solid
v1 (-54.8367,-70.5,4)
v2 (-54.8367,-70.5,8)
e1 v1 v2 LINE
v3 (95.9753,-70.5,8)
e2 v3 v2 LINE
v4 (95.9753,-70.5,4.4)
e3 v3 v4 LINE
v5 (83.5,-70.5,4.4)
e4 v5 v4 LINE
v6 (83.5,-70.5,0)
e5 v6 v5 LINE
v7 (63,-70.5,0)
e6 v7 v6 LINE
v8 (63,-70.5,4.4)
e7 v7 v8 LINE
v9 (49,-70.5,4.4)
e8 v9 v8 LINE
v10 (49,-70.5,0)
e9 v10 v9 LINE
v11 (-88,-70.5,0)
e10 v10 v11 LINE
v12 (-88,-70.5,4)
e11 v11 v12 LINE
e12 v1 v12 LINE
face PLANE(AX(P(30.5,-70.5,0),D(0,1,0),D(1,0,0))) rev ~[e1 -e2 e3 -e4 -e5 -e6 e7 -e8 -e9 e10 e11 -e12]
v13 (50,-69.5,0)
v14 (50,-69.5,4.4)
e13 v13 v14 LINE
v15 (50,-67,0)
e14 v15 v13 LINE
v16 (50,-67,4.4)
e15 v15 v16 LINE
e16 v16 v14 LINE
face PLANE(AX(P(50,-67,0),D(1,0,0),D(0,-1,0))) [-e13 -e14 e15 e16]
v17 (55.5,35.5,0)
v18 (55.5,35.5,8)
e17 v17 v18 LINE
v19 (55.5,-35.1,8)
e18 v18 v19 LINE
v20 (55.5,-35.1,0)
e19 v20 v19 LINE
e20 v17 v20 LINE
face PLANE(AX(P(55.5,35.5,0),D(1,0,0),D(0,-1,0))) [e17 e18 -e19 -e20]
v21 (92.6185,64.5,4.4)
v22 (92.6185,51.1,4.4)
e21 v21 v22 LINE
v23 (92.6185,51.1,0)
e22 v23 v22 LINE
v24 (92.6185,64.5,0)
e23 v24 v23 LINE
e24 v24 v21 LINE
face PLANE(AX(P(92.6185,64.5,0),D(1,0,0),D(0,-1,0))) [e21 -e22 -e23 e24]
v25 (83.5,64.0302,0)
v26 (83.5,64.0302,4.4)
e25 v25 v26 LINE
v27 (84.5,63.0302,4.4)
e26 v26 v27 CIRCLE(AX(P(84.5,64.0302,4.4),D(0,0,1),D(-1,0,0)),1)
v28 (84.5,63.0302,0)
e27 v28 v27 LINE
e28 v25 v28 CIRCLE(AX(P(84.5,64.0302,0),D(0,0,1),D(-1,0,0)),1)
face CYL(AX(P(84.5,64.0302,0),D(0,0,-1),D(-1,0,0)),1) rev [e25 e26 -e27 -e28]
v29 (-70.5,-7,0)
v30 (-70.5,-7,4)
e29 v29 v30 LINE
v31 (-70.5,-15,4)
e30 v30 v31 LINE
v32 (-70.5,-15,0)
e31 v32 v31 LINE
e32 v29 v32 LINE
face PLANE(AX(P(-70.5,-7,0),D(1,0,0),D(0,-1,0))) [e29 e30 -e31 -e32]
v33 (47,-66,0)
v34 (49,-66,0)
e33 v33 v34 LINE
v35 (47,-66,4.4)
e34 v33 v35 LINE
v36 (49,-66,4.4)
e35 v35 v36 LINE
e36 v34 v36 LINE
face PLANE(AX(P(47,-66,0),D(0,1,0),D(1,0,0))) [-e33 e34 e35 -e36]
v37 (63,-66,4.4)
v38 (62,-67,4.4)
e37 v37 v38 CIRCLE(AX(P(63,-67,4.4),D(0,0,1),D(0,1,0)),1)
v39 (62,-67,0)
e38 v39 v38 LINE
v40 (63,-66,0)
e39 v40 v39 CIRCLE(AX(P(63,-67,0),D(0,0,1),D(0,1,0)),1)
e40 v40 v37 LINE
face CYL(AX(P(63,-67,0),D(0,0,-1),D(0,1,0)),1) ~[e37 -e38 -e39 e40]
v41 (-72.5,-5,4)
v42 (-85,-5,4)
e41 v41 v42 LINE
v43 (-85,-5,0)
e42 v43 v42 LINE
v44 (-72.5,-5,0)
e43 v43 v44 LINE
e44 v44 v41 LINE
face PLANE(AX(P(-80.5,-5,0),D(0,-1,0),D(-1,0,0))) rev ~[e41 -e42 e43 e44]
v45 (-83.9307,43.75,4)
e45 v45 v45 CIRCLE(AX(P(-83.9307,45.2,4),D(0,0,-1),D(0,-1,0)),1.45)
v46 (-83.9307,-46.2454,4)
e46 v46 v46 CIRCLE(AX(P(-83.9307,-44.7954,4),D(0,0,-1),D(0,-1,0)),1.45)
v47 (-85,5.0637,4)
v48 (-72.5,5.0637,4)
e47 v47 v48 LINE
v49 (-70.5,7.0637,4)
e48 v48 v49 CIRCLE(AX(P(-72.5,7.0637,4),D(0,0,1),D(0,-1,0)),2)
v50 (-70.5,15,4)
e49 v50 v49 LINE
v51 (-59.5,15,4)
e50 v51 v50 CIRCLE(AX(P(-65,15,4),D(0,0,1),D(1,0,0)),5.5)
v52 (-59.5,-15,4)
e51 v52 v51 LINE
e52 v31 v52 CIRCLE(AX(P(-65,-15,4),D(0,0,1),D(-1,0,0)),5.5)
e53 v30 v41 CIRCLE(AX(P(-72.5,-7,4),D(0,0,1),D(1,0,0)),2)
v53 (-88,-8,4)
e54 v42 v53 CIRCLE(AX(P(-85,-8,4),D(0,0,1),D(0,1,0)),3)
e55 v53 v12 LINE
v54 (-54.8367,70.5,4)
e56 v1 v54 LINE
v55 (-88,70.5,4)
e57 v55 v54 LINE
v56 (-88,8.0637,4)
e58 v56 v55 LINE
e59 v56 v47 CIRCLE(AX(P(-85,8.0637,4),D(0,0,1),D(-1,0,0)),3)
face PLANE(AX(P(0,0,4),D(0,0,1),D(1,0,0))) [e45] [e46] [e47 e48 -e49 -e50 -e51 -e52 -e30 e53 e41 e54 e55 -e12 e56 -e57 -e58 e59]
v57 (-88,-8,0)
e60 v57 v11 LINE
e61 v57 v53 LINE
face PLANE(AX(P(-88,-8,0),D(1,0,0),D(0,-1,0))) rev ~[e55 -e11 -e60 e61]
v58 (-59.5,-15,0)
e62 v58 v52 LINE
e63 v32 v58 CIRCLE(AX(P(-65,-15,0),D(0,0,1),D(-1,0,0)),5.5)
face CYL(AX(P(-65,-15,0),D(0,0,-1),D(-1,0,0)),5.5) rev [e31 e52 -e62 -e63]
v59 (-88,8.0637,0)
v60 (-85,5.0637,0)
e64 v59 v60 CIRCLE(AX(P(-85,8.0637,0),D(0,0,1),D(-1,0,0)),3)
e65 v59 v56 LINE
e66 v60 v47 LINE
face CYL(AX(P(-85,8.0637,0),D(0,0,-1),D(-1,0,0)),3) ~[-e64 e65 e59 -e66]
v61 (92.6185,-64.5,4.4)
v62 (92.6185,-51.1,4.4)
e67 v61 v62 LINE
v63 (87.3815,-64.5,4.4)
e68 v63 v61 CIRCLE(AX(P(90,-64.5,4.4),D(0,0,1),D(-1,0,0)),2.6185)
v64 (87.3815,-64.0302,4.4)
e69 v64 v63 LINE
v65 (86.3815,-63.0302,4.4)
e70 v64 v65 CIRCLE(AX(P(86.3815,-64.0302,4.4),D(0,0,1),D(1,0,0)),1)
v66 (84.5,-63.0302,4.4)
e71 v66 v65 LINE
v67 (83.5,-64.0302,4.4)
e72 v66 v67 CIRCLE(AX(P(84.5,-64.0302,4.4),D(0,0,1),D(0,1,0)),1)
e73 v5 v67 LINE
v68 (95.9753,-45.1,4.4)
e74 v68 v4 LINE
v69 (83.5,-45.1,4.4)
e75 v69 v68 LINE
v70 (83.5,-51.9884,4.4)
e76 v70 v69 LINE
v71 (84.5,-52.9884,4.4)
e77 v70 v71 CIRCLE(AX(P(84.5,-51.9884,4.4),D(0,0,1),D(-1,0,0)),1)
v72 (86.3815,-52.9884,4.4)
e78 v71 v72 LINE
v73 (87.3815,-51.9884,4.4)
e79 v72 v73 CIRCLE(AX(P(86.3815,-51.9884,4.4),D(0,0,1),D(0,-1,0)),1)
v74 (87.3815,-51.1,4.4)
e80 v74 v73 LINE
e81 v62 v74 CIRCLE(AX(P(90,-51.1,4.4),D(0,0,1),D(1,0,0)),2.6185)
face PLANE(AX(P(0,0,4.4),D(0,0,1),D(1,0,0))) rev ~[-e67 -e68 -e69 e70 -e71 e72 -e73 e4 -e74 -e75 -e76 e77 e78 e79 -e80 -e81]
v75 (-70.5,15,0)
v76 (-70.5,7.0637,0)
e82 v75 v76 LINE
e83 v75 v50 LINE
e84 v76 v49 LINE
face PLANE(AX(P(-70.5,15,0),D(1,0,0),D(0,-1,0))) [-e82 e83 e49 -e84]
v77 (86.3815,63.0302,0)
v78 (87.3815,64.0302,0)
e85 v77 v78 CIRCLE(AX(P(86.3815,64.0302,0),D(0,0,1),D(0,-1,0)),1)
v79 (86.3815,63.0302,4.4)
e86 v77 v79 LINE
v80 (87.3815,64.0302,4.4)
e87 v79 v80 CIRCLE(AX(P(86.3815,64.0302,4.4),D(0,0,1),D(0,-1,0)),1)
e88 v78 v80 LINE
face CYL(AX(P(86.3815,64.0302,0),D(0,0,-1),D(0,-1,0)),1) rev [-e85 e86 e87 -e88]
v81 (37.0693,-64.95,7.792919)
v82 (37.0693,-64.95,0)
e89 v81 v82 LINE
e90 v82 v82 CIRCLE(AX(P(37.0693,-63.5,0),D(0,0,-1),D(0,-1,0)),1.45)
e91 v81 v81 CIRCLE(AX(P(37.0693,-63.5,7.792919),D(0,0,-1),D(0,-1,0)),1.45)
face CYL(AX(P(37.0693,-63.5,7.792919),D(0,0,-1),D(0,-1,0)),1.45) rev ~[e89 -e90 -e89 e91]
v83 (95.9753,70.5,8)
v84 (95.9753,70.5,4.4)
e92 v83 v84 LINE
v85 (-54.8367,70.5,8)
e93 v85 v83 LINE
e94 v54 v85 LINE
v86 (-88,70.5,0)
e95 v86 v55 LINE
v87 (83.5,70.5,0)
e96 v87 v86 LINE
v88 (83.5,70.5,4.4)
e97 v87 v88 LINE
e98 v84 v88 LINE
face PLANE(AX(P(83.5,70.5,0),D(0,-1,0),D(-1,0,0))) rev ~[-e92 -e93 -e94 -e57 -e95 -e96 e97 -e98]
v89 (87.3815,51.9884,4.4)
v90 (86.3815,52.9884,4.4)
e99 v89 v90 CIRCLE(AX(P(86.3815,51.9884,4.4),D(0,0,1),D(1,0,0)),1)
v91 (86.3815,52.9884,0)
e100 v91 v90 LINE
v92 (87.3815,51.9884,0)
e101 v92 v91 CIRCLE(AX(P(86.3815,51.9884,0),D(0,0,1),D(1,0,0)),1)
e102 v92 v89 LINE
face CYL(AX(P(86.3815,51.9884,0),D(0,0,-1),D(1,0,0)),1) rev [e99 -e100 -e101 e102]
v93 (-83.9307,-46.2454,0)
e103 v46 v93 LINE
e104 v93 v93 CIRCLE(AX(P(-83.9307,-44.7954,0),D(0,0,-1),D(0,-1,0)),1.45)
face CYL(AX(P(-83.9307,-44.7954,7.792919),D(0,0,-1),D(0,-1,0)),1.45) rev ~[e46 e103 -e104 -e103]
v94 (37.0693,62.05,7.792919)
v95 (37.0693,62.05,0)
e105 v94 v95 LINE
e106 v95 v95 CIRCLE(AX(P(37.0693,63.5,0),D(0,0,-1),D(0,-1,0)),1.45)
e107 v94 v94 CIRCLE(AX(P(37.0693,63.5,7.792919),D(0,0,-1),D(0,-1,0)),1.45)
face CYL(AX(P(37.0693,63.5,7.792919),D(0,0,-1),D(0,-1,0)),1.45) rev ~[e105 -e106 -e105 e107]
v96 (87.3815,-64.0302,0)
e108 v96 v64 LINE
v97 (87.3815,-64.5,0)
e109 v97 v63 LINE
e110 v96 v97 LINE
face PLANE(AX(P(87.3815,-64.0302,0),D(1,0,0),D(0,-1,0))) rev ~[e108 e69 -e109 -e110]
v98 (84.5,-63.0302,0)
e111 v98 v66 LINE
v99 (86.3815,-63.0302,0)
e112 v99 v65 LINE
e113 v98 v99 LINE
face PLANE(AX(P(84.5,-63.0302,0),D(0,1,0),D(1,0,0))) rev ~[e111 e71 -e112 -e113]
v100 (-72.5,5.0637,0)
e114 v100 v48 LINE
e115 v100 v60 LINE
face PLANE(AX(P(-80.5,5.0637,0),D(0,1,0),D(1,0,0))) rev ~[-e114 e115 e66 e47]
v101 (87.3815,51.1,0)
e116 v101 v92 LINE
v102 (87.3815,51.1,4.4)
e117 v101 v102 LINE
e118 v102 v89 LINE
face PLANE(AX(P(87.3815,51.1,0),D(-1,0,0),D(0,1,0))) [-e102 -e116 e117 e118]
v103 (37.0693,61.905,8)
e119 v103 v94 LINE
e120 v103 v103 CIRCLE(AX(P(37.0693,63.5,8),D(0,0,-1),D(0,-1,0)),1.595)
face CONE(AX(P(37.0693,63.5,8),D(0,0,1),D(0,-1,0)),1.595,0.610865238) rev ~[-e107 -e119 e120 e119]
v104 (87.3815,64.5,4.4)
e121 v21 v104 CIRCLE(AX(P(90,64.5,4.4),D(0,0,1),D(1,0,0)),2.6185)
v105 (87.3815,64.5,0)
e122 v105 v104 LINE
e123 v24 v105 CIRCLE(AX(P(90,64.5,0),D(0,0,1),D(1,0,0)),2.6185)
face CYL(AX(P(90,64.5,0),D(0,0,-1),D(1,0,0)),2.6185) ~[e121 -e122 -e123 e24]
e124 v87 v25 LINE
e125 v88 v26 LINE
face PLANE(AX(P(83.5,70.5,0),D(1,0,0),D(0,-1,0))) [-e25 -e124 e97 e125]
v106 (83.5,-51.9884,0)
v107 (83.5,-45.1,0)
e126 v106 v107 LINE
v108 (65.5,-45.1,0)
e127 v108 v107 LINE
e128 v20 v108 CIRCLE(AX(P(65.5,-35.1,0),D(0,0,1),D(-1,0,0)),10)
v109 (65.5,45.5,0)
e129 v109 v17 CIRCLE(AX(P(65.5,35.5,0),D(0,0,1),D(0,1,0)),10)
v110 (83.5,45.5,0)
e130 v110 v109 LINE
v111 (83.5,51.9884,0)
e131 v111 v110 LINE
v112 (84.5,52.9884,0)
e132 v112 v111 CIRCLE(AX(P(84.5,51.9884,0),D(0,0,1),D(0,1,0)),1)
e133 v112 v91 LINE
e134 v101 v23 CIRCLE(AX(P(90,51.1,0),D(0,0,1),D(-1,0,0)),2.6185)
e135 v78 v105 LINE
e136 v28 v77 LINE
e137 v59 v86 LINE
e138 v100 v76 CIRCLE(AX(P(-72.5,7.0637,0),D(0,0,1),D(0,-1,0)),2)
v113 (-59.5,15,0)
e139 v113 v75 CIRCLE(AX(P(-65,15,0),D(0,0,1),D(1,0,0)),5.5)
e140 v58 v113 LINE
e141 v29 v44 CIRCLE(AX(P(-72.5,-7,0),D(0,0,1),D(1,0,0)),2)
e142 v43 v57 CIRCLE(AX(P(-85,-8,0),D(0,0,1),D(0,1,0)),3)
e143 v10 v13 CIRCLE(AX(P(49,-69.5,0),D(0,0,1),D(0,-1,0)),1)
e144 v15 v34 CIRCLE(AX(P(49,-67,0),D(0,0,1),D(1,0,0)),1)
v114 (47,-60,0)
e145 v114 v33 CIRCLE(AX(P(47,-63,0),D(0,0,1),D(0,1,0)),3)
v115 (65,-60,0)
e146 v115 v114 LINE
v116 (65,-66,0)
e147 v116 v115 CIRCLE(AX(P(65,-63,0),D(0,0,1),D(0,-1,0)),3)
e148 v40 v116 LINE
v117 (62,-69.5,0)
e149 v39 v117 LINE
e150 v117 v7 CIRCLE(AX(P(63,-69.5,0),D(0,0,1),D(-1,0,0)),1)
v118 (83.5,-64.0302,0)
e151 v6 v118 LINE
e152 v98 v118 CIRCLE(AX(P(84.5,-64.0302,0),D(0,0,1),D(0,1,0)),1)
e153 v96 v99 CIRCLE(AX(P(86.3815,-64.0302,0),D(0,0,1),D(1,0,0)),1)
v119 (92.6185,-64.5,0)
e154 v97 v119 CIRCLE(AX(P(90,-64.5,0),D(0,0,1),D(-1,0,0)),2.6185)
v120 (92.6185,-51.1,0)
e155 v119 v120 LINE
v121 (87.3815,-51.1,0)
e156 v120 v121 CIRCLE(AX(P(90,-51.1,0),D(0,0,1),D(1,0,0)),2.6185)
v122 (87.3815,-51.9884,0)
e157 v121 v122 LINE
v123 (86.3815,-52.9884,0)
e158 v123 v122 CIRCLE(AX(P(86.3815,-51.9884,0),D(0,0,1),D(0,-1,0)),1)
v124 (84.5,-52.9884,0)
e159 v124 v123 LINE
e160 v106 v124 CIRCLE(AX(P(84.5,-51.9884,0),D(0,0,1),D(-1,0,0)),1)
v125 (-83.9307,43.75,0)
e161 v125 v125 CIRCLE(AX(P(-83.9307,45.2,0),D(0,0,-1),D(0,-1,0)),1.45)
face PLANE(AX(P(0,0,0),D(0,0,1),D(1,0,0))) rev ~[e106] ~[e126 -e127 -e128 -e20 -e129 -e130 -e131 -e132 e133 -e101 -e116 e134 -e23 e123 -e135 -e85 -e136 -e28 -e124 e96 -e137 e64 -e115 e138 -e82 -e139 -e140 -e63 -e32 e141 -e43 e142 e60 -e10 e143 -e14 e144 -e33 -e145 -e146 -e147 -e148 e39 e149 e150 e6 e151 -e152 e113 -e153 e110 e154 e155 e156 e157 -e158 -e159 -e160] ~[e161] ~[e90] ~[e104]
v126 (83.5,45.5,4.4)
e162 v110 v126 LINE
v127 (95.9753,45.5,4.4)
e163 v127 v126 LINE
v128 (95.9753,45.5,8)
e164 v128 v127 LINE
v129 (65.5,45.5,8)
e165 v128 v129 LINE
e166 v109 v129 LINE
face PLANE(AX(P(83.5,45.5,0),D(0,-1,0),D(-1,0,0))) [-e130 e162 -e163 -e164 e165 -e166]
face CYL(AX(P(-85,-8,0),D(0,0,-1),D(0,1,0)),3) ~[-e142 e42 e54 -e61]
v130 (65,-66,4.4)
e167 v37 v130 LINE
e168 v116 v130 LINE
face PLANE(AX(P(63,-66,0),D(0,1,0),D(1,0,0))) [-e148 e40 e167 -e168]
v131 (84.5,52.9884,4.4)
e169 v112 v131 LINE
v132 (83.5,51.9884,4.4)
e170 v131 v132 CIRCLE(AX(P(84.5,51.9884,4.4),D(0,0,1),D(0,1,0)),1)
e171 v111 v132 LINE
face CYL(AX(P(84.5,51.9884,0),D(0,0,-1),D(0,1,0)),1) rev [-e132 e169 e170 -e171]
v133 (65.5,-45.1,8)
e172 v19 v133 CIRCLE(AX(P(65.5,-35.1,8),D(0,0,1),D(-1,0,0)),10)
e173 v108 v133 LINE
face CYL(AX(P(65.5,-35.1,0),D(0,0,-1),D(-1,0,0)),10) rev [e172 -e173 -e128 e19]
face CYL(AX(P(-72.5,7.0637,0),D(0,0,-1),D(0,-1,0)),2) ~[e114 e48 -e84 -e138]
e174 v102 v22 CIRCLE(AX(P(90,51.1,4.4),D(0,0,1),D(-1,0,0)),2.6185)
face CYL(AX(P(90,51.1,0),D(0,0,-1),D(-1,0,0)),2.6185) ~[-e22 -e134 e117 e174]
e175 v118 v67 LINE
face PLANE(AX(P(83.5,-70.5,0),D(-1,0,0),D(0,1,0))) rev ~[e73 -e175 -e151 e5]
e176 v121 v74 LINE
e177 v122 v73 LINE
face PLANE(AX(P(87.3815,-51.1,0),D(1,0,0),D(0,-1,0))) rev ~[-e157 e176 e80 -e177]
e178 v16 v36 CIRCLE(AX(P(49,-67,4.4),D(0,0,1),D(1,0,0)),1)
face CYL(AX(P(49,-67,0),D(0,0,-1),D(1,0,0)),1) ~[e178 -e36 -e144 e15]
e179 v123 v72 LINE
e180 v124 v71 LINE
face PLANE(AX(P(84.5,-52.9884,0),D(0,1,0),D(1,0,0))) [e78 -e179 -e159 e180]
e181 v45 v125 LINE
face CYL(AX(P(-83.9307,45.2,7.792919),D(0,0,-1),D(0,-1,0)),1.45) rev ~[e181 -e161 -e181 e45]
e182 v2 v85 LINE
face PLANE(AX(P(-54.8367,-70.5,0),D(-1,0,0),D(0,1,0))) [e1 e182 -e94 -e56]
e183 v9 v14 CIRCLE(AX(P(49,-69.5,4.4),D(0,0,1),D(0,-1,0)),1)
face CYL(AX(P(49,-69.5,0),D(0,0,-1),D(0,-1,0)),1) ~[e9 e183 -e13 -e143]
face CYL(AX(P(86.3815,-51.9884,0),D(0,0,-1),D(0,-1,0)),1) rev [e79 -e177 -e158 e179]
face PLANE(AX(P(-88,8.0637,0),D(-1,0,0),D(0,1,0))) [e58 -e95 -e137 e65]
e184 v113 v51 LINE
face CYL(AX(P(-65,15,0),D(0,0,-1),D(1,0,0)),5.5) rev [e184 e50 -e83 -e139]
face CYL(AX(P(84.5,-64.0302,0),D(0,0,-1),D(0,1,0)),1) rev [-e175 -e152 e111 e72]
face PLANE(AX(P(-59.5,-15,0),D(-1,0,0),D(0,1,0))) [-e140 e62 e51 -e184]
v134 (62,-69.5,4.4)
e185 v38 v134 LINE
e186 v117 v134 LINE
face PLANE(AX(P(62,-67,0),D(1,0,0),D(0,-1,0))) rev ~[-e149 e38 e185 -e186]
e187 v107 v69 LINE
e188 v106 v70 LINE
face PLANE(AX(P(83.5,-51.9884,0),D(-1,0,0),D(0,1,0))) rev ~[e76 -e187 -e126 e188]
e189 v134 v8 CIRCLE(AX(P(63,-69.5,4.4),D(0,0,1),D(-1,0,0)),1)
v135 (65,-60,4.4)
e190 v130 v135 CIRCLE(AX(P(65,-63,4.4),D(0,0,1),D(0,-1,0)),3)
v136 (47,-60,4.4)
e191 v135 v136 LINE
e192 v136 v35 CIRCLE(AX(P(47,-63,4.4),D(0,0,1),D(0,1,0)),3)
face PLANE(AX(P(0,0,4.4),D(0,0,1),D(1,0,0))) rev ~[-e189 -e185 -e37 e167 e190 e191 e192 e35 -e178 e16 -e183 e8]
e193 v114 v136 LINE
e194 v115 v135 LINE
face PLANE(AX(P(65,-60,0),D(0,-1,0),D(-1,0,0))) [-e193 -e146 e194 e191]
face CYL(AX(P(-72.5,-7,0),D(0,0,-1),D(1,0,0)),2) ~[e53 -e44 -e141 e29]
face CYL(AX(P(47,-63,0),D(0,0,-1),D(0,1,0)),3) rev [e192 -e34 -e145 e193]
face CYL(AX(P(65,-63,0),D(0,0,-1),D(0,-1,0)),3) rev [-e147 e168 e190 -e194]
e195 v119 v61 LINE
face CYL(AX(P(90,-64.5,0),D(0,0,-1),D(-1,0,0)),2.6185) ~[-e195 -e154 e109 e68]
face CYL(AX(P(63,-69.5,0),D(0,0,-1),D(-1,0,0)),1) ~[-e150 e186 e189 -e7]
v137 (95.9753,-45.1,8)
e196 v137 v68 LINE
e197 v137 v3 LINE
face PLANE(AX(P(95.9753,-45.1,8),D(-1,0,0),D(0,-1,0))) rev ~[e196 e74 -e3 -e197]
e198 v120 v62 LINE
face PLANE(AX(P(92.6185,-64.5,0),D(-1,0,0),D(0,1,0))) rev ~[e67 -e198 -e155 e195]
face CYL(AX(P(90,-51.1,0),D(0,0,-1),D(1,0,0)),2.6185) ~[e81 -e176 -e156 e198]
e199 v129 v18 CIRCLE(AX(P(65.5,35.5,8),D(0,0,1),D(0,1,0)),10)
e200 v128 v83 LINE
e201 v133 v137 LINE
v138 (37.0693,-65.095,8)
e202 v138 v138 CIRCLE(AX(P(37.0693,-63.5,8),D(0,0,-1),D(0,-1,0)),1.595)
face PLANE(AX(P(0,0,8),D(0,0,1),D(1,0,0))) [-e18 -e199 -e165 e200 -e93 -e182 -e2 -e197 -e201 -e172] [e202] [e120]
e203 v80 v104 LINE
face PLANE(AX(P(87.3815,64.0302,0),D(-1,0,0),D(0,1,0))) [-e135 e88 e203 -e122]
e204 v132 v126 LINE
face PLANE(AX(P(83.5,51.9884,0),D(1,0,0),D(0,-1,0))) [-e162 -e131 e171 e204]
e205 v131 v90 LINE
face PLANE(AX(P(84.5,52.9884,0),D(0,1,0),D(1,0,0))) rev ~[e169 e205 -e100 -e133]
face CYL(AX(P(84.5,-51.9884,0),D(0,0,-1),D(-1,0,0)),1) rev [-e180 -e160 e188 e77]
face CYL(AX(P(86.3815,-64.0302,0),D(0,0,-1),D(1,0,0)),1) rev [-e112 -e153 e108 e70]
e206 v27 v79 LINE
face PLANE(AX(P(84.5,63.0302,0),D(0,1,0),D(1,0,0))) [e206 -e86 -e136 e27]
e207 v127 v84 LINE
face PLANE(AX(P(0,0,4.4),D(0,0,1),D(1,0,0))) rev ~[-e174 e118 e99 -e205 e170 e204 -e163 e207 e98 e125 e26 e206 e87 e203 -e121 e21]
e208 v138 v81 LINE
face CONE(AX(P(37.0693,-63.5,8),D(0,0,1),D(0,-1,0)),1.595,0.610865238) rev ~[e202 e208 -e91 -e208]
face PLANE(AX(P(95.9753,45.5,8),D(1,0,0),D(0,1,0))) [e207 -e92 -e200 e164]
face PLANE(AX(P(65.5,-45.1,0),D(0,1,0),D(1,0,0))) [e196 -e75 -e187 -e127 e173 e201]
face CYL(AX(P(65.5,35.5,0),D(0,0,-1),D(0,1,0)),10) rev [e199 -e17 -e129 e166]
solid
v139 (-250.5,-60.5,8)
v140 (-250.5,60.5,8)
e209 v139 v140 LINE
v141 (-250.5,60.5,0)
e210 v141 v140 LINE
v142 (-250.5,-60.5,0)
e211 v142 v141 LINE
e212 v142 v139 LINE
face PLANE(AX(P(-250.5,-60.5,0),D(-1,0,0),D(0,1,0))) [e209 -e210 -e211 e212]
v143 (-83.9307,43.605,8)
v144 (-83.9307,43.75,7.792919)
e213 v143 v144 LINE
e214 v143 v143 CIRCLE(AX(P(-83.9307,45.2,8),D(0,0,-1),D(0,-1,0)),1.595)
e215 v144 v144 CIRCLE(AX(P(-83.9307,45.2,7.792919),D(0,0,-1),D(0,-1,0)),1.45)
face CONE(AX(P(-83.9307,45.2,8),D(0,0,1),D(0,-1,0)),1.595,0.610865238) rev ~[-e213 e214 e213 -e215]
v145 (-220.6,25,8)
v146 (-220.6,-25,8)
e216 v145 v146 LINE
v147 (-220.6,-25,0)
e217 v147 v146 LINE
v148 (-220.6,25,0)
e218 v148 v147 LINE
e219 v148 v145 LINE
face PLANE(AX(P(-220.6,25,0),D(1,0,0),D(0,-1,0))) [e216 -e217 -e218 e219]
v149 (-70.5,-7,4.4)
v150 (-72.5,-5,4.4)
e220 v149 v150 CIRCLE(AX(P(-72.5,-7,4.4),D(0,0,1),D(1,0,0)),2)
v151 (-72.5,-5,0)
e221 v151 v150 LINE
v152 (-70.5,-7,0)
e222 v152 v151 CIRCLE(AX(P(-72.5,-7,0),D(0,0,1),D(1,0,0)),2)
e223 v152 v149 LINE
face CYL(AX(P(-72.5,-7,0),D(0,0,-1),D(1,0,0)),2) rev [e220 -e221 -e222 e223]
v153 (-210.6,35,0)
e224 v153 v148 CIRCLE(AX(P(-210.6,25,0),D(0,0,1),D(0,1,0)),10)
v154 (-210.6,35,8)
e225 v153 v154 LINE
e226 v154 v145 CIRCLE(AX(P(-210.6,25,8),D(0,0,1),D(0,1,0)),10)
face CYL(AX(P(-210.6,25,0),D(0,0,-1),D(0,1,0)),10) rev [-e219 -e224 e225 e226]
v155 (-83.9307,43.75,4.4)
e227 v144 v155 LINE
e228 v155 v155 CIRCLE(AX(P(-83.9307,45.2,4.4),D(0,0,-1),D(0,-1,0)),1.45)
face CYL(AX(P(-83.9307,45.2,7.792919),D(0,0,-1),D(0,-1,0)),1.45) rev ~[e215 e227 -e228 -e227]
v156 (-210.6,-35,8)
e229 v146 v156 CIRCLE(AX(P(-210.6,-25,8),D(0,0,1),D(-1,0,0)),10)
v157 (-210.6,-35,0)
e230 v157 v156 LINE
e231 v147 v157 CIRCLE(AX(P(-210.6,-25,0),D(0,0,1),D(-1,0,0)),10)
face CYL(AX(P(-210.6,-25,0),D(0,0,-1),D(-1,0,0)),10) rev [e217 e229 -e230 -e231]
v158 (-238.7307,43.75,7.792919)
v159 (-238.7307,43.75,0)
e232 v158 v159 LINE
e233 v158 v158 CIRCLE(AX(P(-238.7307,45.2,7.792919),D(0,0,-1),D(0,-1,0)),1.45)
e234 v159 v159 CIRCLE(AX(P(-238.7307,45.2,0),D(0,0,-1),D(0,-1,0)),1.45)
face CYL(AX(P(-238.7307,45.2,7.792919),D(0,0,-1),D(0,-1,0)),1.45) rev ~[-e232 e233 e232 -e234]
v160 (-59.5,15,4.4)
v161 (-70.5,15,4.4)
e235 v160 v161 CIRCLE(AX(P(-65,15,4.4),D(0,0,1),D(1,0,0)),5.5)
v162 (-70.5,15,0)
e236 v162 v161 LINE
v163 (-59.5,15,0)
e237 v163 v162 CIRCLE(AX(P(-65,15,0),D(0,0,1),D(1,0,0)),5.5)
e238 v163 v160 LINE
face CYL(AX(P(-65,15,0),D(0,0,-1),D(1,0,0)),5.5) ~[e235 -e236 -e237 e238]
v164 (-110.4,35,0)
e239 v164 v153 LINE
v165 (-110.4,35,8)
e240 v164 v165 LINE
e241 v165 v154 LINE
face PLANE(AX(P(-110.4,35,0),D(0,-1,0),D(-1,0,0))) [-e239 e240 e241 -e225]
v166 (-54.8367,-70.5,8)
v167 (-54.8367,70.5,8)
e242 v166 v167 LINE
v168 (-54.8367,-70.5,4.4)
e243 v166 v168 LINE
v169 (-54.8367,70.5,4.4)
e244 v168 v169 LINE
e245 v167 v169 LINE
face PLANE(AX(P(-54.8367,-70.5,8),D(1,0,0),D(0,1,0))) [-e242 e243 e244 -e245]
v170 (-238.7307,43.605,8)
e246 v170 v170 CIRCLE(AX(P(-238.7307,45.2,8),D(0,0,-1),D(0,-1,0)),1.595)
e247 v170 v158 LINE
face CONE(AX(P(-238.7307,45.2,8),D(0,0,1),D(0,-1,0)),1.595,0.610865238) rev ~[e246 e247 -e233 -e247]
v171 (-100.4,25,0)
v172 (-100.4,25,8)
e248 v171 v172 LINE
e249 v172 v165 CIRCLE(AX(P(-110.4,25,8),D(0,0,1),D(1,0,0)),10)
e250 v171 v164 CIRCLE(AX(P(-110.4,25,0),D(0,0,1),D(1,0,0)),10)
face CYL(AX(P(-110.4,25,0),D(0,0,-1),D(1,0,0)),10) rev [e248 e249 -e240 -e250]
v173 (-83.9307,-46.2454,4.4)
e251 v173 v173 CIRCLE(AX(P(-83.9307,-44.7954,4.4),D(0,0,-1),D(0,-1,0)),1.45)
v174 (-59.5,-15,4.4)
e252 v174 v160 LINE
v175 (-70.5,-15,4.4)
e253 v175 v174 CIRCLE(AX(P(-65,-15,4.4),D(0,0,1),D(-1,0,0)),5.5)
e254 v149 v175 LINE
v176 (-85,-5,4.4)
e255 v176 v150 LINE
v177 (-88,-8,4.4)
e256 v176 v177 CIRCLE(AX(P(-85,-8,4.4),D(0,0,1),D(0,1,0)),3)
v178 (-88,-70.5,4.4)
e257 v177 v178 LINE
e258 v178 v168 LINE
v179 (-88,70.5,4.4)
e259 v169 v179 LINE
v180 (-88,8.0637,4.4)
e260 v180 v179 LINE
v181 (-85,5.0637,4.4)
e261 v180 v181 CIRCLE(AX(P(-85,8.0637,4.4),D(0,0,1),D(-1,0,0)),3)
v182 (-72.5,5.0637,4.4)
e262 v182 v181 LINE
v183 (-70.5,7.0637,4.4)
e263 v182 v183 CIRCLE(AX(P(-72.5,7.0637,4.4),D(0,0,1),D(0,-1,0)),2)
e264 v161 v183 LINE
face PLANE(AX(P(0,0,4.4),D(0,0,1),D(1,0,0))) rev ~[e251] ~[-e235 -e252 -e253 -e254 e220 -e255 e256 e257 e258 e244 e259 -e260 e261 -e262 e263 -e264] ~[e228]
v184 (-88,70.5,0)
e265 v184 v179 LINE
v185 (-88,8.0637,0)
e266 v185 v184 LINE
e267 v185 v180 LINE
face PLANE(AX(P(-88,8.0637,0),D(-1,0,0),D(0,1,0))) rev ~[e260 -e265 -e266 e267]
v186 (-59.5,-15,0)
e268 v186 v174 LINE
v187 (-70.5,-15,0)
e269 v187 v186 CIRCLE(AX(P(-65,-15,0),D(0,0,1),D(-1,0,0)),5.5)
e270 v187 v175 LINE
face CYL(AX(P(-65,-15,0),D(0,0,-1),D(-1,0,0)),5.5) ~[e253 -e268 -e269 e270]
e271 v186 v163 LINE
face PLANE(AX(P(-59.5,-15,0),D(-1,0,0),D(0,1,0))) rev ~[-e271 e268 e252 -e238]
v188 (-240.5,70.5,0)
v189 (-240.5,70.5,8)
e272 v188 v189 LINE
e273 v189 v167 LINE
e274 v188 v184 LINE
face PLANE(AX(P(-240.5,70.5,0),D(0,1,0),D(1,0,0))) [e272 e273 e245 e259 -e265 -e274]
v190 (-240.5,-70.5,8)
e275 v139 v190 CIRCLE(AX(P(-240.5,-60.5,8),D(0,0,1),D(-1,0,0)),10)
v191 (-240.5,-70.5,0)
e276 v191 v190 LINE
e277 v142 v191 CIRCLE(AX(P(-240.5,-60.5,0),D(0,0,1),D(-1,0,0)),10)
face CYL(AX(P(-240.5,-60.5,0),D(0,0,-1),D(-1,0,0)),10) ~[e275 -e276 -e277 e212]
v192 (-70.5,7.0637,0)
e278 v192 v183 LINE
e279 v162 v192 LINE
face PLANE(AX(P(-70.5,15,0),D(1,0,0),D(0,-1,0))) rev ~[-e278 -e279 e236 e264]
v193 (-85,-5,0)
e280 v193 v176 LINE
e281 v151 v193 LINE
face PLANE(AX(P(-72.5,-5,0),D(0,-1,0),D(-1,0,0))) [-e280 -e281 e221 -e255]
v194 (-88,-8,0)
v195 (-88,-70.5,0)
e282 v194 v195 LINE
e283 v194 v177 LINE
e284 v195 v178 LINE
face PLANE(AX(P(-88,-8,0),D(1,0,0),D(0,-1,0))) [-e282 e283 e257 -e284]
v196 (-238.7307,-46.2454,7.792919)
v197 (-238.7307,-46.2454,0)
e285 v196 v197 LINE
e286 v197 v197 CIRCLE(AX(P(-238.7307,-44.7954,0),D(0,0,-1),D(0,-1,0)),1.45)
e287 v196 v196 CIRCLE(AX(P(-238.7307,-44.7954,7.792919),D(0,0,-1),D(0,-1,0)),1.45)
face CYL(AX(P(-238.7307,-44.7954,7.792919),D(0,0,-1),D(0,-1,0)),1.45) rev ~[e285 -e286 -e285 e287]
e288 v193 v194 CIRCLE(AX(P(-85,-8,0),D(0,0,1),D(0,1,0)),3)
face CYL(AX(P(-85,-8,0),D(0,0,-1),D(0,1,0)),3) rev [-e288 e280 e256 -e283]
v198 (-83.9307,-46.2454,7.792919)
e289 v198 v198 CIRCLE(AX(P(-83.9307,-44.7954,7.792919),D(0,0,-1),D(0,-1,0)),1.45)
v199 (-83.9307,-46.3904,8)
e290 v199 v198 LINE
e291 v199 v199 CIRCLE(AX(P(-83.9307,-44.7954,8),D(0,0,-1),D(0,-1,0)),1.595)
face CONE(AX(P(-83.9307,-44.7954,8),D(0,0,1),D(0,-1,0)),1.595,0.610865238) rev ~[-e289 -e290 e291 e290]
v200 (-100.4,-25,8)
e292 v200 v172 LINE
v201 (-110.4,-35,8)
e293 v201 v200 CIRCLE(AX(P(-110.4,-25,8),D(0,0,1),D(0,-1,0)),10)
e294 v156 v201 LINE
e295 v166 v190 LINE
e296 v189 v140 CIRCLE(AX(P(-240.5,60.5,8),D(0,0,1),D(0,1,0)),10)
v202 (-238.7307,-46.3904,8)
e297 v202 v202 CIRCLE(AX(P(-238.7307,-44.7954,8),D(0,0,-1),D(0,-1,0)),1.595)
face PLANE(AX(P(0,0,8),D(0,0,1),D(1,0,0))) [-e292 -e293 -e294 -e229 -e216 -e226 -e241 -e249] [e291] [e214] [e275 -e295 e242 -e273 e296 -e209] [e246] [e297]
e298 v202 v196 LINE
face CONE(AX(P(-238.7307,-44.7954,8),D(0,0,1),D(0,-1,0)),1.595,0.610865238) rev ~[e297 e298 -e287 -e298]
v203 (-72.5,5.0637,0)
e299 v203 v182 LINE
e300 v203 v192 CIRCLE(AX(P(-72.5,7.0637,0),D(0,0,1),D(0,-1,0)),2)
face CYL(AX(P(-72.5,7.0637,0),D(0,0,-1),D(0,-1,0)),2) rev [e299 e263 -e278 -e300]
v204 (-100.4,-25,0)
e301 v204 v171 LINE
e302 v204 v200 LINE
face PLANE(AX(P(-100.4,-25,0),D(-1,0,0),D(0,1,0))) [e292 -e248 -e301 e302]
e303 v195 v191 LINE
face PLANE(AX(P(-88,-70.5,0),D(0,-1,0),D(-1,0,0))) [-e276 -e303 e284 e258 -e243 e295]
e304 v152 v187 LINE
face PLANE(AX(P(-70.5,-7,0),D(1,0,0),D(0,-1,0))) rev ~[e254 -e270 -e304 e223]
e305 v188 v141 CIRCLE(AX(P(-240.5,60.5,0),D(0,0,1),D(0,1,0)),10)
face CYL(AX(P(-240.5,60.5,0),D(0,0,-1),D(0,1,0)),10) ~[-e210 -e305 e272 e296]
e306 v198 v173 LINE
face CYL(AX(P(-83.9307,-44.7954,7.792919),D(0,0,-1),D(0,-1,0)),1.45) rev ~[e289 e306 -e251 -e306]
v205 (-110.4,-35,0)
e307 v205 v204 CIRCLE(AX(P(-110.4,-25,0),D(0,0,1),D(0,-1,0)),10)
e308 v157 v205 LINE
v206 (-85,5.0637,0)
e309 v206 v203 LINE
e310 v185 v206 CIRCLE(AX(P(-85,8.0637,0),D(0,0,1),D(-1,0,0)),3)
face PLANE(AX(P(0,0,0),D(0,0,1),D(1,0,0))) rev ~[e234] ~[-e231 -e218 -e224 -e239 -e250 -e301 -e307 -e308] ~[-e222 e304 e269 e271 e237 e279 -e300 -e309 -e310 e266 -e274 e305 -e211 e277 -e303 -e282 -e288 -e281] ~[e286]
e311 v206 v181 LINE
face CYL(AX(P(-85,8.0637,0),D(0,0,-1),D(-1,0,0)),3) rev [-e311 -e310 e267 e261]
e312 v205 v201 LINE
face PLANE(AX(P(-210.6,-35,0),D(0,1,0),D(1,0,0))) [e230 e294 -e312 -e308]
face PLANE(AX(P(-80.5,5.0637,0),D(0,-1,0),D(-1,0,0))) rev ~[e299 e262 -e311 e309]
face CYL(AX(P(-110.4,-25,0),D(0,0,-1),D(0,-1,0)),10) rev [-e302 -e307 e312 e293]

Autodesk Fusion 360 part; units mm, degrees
sketch "Sketch1" plane through (0, 0, 0) normal (0, 0, 1) x (1, 0, 0)
  line L0 (240.5, -70.5) -> (-250.5, -70.5) construction
  line L1 (-250.5, -70.5) -> (-250.5, 60.5) construction
  line L2 (-250.5, 70.5) -> (250.5, 70.5) construction
  line L3 (250.5, 70.5) -> (250.5, -60.5) construction
  line L4 (250.5, -70.5) -> (-250.5, 70.5) construction
  line L5 (-250.5, -70.5) -> (250.5, 70.5) construction
  line L6 (240.5, 70.5) -> (-70.5, 70.5)
  line L7 (30.5, 70.5) -> (30.5, -70.5)
  line L8 (117, -70.5) -> (240.5, -70.5)
  line L9 (250.5, -60.5) -> (250.5, 60.5)
  arc A0 (240.5, -70.5) -> (250.5, -60.5) centre (240.5, -60.5) ccw construction
  arc A1 (240.5, -70.5) -> (250.5, -60.5) centre (240.5, -60.5) ccw
  arc A2 (250.5, 60.5) -> (240.5, 70.5) centre (240.5, 60.5) ccw
  line L10 (140, 70.5) -> (140, -70.5) construction
  line L11 (250.5, 0) -> (30.5, 0) construction
  line L12 (55.5, 35.5) -> (55.5, -35.1)
  line L13 (65.5, -45.1) -> (215.5, -45.1)
  line L14 (225.5, -35.1) -> (225.5, 35.5)
  line L15 (215.5, 45.5) -> (65.5, 45.5)
  arc A3 (65.5, 45.5) -> (55.5, 35.5) centre (65.5, 35.5) ccw
  arc A4 (55.5, -35.1) -> (65.5, -45.1) centre (65.5, -35.1) ccw
  arc A5 (225.5, 35.5) -> (215.5, 45.5) centre (215.5, 35.5) ccw
  arc A6 (215.5, -45.1) -> (225.5, -35.1) centre (215.5, -35.1) ccw
  line L16 (28, -170) -> (28, -40) construction
  line L17 (0, -118.25) -> (155.4243, -118.25) construction
  line L18 (63, -70.5) -> (104, -70.5)
  line L19 (129, -70.5) -> (129, -135.5)
  line L20 (114, -150.5) -> (38, -150.5)
  line L21 (23, -135.5) -> (23, -70.5)
  line L22 (-83.5, 130) -> (-83.5, -190) construction
  line L23 (83.5, -64.0302) -> (83.5, -190) construction
  line L24 (-240.5, 70.5) -> (-70.5, 70.5)
  line L25 (-70.5, -70.5) -> (-240.5, -70.5)
  line L26 (-250.5, -60.5) -> (-250.5, 70.5)
  line L27 (-220.6, 25) -> (-220.6, -25)
  line L28 (-210.6, -35) -> (-110.4, -35)
  line L29 (-100.4, -25) -> (-100.4, 25)
  line L30 (-110.4, 35) -> (-210.6, 35)
  arc A7 (-240.5, 70.5) -> (-250.5, 60.5) centre (-240.5, 60.5) ccw
  arc A8 (-250.5, -60.5) -> (-240.5, -70.5) centre (-240.5, -60.5) ccw
  arc A9 (-210.6, 35) -> (-220.6, 25) centre (-210.6, 25) ccw
  arc A10 (-220.6, -25) -> (-210.6, -35) centre (-210.6, -25) ccw
  arc A11 (-100.4, 25) -> (-110.4, 35) centre (-110.4, 25) ccw
  arc A12 (-110.4, -35) -> (-100.4, -25) centre (-110.4, -25) ccw
  arc A13 (23, -135.5) -> (38, -150.5) centre (38, -135.5) ccw
  arc A14 (114, -150.5) -> (129, -135.5) centre (114, -135.5) ccw
  line L31 (-72.5, -5) -> (-80.5, -5)
  line L32 (-80.5, 5.0637) -> (-72.5, 5.0637)
  arc A15 (-70.5, -15) -> (-59.5, -15) centre (-65, -15) ccw
  line L33 (-59.5, -15) -> (-59.5, 15)
  arc A16 (-59.5, 15) -> (-70.5, 15) centre (-65, 15) ccw
  line L34 (-65, 15) -> (-65, -15) construction
  line L35 (-70.5, 70.5) -> (-70.5, 7.0637)
  line L36 (-70.5, -7) -> (-70.5, -70.5)
  line L37 (-70.5, 15) -> (-70.5, 7.0637)
  line L38 (-70.5, -7) -> (-70.5, -15)
  arc A17 (-72.5, 5.0637) -> (-70.5, 7.0637) centre (-72.5, 7.0637) ccw
  arc A18 (-70.5, -7) -> (-72.5, -5) centre (-72.5, -7) ccw
  line L39 (-88, 8.0637) -> (-88, 70.5)
  line L40 (-88, -8) -> (-88, -70.5)
  line L41 (78, -57.8) -> (89, -57.8) construction
  line L42 (-54.8367, -70.5) -> (-54.8367, 70.5)
  line L43 (87.3815, -51.1) -> (87.3815, -51.9884)
  arc A19 (87.3815, -64.5) -> (92.6185, -64.5) centre (90, -64.5) ccw
  line L44 (92.6185, -64.5) -> (92.6185, -51.1)
  arc A20 (92.6185, -51.1) -> (87.3815, -51.1) centre (90, -51.1) ccw
  line L45 (90, -51.1) -> (90, -64.5) construction
  line L46 (84.5, -52.9884) -> (86.3815, -52.9884)
  line L47 (84.5, -63.0302) -> (86.3815, -63.0302)
  line L48 (83.5, -70.5) -> (83.5, -45.1)
  arc A21 (83.5, -51.9884) -> (84.5, -52.9884) centre (84.5, -51.9884) ccw
  arc A22 (84.5, -63.0302) -> (83.5, -64.0302) centre (84.5, -64.0302) ccw
  arc A23 (86.3815, -52.9884) -> (87.3815, -51.9884) centre (86.3815, -51.9884) ccw
  line L49 (87.3815, -64.0302) -> (87.3815, -64.5)
  arc A24 (87.3815, -64.0302) -> (86.3815, -63.0302) centre (86.3815, -64.0302) ccw
  line L50 (95.9753, -45.1) -> (95.9753, -70.5)
  line L51 (83.5, 70.5) -> (83.5, 45.5)
  arc A25 (84.5, 52.9884) -> (83.5, 51.9884) centre (84.5, 51.9884) ccw
  line L52 (84.5, 52.9884) -> (86.3815, 52.9884)
  arc A26 (87.3815, 51.9884) -> (86.3815, 52.9884) centre (86.3815, 51.9884) ccw
  line L53 (87.3815, 51.1) -> (87.3815, 51.9884)
  arc A27 (87.3815, 51.1) -> (92.6185, 51.1) centre (90, 51.1) ccw
  line L54 (92.6185, 64.5) -> (92.6185, 51.1)
  arc A28 (92.6185, 64.5) -> (87.3815, 64.5) centre (90, 64.5) ccw
  line L55 (87.3815, 64.0302) -> (87.3815, 64.5)
  arc A29 (86.3815, 63.0302) -> (87.3815, 64.0302) centre (86.3815, 64.0302) ccw
  line L56 (84.5, 63.0302) -> (86.3815, 63.0302)
  arc A30 (83.5, 64.0302) -> (84.5, 63.0302) centre (84.5, 64.0302) ccw
  line L57 (95.9753, 45.5) -> (95.9753, 70.5)
  line L58 (47, -66) -> (49, -66)
  arc A31 (65, -66) -> (65, -60) centre (65, -63) ccw
  line L59 (65, -60) -> (47, -60)
  arc A32 (47, -60) -> (47, -66) centre (47, -63) ccw
  line L60 (47, -63) -> (65, -63) construction
  line L61 (102.1654, -66) -> (104, -66)
  arc A33 (119, -66) -> (119, -60.0603) centre (119, -63.0302) ccw
  line L62 (119, -60.0603) -> (102.1654, -60.0603)
  arc A34 (102.1654, -60.0603) -> (102.1654, -66) centre (102.1654, -63.0302) ccw
  line L63 (102.1654, -63.0302) -> (119, -63.0302) construction
  line L64 (50, -67) -> (50, -69.5)
  line L65 (62, -67) -> (62, -69.5)
  line L66 (105, -67) -> (105, -69.5)
  line L67 (116, -67) -> (116, -69.5)
  arc A35 (105, -67) -> (104, -66) centre (104, -67) ccw
  line L68 (117, -66) -> (119, -66)
  arc A36 (117, -66) -> (116, -67) centre (117, -67) ccw
  line L69 (23, -70.5) -> (49, -70.5)
  arc A37 (50, -67) -> (49, -66) centre (49, -67) ccw
  line L70 (63, -66) -> (65, -66)
  arc A38 (63, -66) -> (62, -67) centre (63, -67) ccw
  arc A39 (49, -70.5) -> (50, -69.5) centre (49, -69.5) ccw
  arc A40 (62, -69.5) -> (63, -70.5) centre (63, -69.5) ccw
  arc A41 (104, -70.5) -> (105, -69.5) centre (104, -69.5) ccw
  line L71 (129, -70.5) -> (116, -70.5029)
  arc A42 (116, -69.5) -> (117, -70.5) centre (117, -69.5) ccw
  line L72 (49, -70.5) -> (63, -70.5)
  line L73 (104, -70.5) -> (117, -70.5)
  line L74 (-70.5, -70.5) -> (30.5, -70.5)
  line L75 (-80.5, 5.0637) -> (-85, 5.0637)
  line L76 (-80.5, -5) -> (-85, -5)
  arc A43 (-85, -5) -> (-88, -8) centre (-85, -8) ccw
  arc A44 (-88, 8.0637) -> (-85, 5.0637) centre (-85, 8.0637) ccw
  line L77 (-88, 8.0637) -> (-88, -8)
  point P0 (250.5, -70.5)
  point P1 (37.5, -63.5)
  point P2 (37.5, 63.5)
  point P3 (243.5, 63.5)
  point P4 (243.5, -63.5)
  point P5 (28, -118.25)
  point P6 (23, -150.5)
  point P7 (124, -118.25)
  point P8 (-250.5, -70.5)
  point P9 (-237.8, 45.2)
  point P10 (-237.8, -44.795)
  point P11 (-83.5, -44.795)
  point P12 (-83.5, 45.2)
  dimension "d1" = 501
  dimension "d2" = 141
  dimension "d3" = 220
  dimension "d4" = 141
  dimension "d9" = 10
  dimension "d12" = 7
  dimension "d13" = 7
  dimension "d14" = 7
  dimension "d15" = 7
  dimension "d16" = 7
  dimension "d17" = 7
  dimension "d18" = 7
  dimension "d19" = 7
  dimension "d23" = 25
  dimension "d24" = 25
  dimension "d25" = 25
  dimension "d26" = 25.4
  dimension "d27" = 10
  dimension "d28" = 10
  dimension "d29" = 10
  dimension "d30" = 10
  dimension "d32" = 54.75
  dimension "d33" = 106
  dimension "d34" = 80
  dimension "d35" = 5
  dimension "d36" = 96
  dimension "d37" = 167
  dimension "d38" = 167
  dimension "d39" = 180
  dimension "d40" = 141
  dimension "d41" = 35.5
  dimension "d42" = 35.5
  dimension "d43" = 29.9
  dimension "d44" = 29.9
  dimension "d45" = 10
  dimension "d46" = 10
  dimension "d47" = 10
  dimension "d48" = 10
  dimension "d49" = 10
  dimension "d50" = 25.3
  dimension "d51" = 12.7
  dimension "d52" = 25.705
  dimension "d53" = 13
  dimension "d54" = 25.3
  dimension "d55" = 15
  dimension "d56" = 2
  dimension "d59" = 12.7
  dimension "d60" = 1
  dimension "d61" = 1
  dimension "d62" = 1
  dimension "d63" = 1
  dimension "d64" = 1
  dimension "d65" = 1
  dimension "d66" = 1
  dimension "d77" = 6
  dimension "d78" = 6
  dimension "d119" = 3
  dimension "d120" = 3
  dimension "d121" = 25.705
  dimension "d122" = 12.7
extrude "Extrude4" add sketch "Sketch1" along normal blind 8 contours L6 L8 L9 A1 A2 L13 L14 L15 A5 A6 L18 L50 L57 L61 A33 L62 A34 L66 L67 A35 L68 A36 A41 A42 makes body 1
extrude "Extrude5" add sketch "Sketch1" along normal blind 8 separate body contours L6 L7 L12 L13 L15 A3 A4 L18 L48 L51 L58 A31 L59 A32 L64 L65 L69 A37 L70 A38 A39 A40 | L6 L7 L42 L69 L74 | L51 A25 L52 A26 L53 A27 L54 A28 L55 A29 L56 A30 | L43 A19 L44 A20 L46 L47 L48 A21 A22 A23 L49 A24 makes body 2
extrude "Extrude6" add sketch "Sketch1" along normal blind 8 separate body contours L24 L25 L26 A7 A8 L39 L40 L77 | L31 L32 A15 L33 A16 L35 L36 L37 L38 A17 A18 L75 L76 A43 A44 L77 makes body 3
extrude "Extrude7" add sketch "Sketch1" along normal blind 4 separate body contours L6 A15 L33 A16 L35 L36 L42 L74 | L24 L32 L35 L37 A17 L39 L75 A44 | L25 L31 L36 L38 A18 L40 L76 A43 makes body 4
combine "Combine4" operation add target body 2 tool bodies 4
extrude "Extrude8" add sketch "Sketch1" along normal blind 4 separate body contours L6 L15 L51 A25 L52 A26 L53 A27 L54 A28 L55 A29 L56 A30 L57 | L13 L18 L43 A19 L44 A20 L46 L47 L48 A21 A22 A23 L49 A24 L50 makes body 5 at (94.8563, 60.1667, 0) makes body 6 at (94.8563, -60.0333, 0)
combine "Combine5" operation add target body 1 tool bodies 5 6
extrude "Extrude9" add sketch "Sketch1" against normal blind 3.6 from surface at 8 contours L6 L15 L51 A25 L52 A26 L53 A27 L54 A28 L55 A29 L56 A30 L57 | L58 A31 L59 A32 L64 L65 A37 L70 A38 A39 A40 L72 | L13 L18 L43 A19 L44 A20 L46 L47 L48 A21 A22 A23 L49 A24 L50 bodies 2
extrude "Extrude10" add sketch "Sketch1" against normal blind 3.6 from surface at 8 contours L61 A33 L62 A34 L66 L67 A35 L68 A36 A41 A42 L73 bodies 1
extrude "Extrude11" add sketch "Sketch1" against normal blind 3.6 from surface at 8 contours L6 A15 L33 A16 L35 L36 L42 L74 | L24 L32 L35 L37 A17 L39 L75 A44 | L25 L31 L36 L38 A18 L40 L76 A43 bodies 3
extrude "Extrude12" add sketch "Sketch1" along normal blind 8 separate body contours L8 L18 L19 L20 L21 A13 A14 L69 L72 L73 L74 makes body 7
extrude "Extrude13" add sketch "Sketch1" along normal blind 4 contours L58 A31 L59 A32 L64 L65 A37 L70 A38 A39 A40 L72 | L61 A33 L62 A34 L66 L67 A35 L68 A36 A41 A42 L73 bodies 7
ref_plane "WorkPlane1" through (20.5693, 0, 8) normal (0, 0, 1) x (1, 0, 0)
sketch "Sketch3" plane through (20.5693, 0, 8) normal (0, 0, 1) x (1, 0, 0)
  point P0 (7.4307, -118.25)
  point P1 (103.4346, -118.25)
  point P2 (222.5, 63.5)
  point P3 (222.5, -63.5)
  point P4 (16.5, 63.5)
  point P5 (-259.3, -44.7954)
  point P6 (-259.3, 45.2)
  point P7 (-104.5, 45.2)
  point P8 (-104.5, -44.7954)
  point P9 (16.5, -63.5)
hole "Hole2" at (-238.7307, 45.2, 8) at (-83.9307, 45.2, 8) at (37.0693, 63.5, 8) at (243.0693, 63.5, 8) at (243.0693, -63.5, 8) at (37.0693, -63.5, 8) at (-83.9307, -44.7954, 8) at (-238.7307, -44.7954, 8) direction (0, 0, -1) diameter 2.9 depth 8 tip angle 180 countersink diameter 3.19 countersink angle 70 bodies 1 2 3
hole "Hole1" at (28, -118.25, 0) at (124.0039, -118.25, 0) direction (0, 0, 1) diameter 2.9 depth 8 tip angle 180 countersink diameter 3.19 countersink angle 70 bodies 7
move_face "OffsetFaces2" offset -0.1 4 faces at (85.1272, 63.0302, 1.3333) (85.1272, 52.9884, 1.3333) (85.1272, -52.9884, 1.3333) (85.1272, -63.0302, 1.3333) on bodies 1
hidden bodies 1 7
equation "d3 = mainwidth"
equation "d4 = mainheight"
equation "outsideframeradius = 10 mm"
equation "insideframeradius = 10 mm"
equation "d9 = outsideframeradius"
equation "mainholedistance = 7 mm"
equation "d12 = mainholedistance"
equation "mainwidth = 220 mm"
equation "mainheight = 141 mm"
equation "mainborderwidth = 25 mm"
equation "d23 = mainborderwidth"
equation "d24 = mainborderwidth"
equation "d25 = mainborderwidth"
equation "d26 = mainborderwidth + 0.4 mm"
equation "d27 = insideframeradius"
equation "d28 = insideframeradius"
equation "d29 = insideframeradius"
equation "d30 = insideframeradius"
equation "d45 = outsideframeradius"
equation "d46 = outsideframeradius"
equation "d47 = insideframeradius"
equation "d48 = insideframeradius"
equation "d49 = insideframeradius"
equation "mountthickness = 8 mm"
equation "slotOffset = mountthickness / 2"
equation "slotGap = 0.4 mm"
equation "d83 = mountthickness"
equation "d85 = mountthickness"
equation "d87 = mountthickness"
equation "d89 = slotOffset"
equation "d91 = slotOffset"
equation "d102 = mountthickness"
equation "d104 = slotOffset"
equation "d107 = mountthickness"
equation "matingTolerance = 0.1 mm"
